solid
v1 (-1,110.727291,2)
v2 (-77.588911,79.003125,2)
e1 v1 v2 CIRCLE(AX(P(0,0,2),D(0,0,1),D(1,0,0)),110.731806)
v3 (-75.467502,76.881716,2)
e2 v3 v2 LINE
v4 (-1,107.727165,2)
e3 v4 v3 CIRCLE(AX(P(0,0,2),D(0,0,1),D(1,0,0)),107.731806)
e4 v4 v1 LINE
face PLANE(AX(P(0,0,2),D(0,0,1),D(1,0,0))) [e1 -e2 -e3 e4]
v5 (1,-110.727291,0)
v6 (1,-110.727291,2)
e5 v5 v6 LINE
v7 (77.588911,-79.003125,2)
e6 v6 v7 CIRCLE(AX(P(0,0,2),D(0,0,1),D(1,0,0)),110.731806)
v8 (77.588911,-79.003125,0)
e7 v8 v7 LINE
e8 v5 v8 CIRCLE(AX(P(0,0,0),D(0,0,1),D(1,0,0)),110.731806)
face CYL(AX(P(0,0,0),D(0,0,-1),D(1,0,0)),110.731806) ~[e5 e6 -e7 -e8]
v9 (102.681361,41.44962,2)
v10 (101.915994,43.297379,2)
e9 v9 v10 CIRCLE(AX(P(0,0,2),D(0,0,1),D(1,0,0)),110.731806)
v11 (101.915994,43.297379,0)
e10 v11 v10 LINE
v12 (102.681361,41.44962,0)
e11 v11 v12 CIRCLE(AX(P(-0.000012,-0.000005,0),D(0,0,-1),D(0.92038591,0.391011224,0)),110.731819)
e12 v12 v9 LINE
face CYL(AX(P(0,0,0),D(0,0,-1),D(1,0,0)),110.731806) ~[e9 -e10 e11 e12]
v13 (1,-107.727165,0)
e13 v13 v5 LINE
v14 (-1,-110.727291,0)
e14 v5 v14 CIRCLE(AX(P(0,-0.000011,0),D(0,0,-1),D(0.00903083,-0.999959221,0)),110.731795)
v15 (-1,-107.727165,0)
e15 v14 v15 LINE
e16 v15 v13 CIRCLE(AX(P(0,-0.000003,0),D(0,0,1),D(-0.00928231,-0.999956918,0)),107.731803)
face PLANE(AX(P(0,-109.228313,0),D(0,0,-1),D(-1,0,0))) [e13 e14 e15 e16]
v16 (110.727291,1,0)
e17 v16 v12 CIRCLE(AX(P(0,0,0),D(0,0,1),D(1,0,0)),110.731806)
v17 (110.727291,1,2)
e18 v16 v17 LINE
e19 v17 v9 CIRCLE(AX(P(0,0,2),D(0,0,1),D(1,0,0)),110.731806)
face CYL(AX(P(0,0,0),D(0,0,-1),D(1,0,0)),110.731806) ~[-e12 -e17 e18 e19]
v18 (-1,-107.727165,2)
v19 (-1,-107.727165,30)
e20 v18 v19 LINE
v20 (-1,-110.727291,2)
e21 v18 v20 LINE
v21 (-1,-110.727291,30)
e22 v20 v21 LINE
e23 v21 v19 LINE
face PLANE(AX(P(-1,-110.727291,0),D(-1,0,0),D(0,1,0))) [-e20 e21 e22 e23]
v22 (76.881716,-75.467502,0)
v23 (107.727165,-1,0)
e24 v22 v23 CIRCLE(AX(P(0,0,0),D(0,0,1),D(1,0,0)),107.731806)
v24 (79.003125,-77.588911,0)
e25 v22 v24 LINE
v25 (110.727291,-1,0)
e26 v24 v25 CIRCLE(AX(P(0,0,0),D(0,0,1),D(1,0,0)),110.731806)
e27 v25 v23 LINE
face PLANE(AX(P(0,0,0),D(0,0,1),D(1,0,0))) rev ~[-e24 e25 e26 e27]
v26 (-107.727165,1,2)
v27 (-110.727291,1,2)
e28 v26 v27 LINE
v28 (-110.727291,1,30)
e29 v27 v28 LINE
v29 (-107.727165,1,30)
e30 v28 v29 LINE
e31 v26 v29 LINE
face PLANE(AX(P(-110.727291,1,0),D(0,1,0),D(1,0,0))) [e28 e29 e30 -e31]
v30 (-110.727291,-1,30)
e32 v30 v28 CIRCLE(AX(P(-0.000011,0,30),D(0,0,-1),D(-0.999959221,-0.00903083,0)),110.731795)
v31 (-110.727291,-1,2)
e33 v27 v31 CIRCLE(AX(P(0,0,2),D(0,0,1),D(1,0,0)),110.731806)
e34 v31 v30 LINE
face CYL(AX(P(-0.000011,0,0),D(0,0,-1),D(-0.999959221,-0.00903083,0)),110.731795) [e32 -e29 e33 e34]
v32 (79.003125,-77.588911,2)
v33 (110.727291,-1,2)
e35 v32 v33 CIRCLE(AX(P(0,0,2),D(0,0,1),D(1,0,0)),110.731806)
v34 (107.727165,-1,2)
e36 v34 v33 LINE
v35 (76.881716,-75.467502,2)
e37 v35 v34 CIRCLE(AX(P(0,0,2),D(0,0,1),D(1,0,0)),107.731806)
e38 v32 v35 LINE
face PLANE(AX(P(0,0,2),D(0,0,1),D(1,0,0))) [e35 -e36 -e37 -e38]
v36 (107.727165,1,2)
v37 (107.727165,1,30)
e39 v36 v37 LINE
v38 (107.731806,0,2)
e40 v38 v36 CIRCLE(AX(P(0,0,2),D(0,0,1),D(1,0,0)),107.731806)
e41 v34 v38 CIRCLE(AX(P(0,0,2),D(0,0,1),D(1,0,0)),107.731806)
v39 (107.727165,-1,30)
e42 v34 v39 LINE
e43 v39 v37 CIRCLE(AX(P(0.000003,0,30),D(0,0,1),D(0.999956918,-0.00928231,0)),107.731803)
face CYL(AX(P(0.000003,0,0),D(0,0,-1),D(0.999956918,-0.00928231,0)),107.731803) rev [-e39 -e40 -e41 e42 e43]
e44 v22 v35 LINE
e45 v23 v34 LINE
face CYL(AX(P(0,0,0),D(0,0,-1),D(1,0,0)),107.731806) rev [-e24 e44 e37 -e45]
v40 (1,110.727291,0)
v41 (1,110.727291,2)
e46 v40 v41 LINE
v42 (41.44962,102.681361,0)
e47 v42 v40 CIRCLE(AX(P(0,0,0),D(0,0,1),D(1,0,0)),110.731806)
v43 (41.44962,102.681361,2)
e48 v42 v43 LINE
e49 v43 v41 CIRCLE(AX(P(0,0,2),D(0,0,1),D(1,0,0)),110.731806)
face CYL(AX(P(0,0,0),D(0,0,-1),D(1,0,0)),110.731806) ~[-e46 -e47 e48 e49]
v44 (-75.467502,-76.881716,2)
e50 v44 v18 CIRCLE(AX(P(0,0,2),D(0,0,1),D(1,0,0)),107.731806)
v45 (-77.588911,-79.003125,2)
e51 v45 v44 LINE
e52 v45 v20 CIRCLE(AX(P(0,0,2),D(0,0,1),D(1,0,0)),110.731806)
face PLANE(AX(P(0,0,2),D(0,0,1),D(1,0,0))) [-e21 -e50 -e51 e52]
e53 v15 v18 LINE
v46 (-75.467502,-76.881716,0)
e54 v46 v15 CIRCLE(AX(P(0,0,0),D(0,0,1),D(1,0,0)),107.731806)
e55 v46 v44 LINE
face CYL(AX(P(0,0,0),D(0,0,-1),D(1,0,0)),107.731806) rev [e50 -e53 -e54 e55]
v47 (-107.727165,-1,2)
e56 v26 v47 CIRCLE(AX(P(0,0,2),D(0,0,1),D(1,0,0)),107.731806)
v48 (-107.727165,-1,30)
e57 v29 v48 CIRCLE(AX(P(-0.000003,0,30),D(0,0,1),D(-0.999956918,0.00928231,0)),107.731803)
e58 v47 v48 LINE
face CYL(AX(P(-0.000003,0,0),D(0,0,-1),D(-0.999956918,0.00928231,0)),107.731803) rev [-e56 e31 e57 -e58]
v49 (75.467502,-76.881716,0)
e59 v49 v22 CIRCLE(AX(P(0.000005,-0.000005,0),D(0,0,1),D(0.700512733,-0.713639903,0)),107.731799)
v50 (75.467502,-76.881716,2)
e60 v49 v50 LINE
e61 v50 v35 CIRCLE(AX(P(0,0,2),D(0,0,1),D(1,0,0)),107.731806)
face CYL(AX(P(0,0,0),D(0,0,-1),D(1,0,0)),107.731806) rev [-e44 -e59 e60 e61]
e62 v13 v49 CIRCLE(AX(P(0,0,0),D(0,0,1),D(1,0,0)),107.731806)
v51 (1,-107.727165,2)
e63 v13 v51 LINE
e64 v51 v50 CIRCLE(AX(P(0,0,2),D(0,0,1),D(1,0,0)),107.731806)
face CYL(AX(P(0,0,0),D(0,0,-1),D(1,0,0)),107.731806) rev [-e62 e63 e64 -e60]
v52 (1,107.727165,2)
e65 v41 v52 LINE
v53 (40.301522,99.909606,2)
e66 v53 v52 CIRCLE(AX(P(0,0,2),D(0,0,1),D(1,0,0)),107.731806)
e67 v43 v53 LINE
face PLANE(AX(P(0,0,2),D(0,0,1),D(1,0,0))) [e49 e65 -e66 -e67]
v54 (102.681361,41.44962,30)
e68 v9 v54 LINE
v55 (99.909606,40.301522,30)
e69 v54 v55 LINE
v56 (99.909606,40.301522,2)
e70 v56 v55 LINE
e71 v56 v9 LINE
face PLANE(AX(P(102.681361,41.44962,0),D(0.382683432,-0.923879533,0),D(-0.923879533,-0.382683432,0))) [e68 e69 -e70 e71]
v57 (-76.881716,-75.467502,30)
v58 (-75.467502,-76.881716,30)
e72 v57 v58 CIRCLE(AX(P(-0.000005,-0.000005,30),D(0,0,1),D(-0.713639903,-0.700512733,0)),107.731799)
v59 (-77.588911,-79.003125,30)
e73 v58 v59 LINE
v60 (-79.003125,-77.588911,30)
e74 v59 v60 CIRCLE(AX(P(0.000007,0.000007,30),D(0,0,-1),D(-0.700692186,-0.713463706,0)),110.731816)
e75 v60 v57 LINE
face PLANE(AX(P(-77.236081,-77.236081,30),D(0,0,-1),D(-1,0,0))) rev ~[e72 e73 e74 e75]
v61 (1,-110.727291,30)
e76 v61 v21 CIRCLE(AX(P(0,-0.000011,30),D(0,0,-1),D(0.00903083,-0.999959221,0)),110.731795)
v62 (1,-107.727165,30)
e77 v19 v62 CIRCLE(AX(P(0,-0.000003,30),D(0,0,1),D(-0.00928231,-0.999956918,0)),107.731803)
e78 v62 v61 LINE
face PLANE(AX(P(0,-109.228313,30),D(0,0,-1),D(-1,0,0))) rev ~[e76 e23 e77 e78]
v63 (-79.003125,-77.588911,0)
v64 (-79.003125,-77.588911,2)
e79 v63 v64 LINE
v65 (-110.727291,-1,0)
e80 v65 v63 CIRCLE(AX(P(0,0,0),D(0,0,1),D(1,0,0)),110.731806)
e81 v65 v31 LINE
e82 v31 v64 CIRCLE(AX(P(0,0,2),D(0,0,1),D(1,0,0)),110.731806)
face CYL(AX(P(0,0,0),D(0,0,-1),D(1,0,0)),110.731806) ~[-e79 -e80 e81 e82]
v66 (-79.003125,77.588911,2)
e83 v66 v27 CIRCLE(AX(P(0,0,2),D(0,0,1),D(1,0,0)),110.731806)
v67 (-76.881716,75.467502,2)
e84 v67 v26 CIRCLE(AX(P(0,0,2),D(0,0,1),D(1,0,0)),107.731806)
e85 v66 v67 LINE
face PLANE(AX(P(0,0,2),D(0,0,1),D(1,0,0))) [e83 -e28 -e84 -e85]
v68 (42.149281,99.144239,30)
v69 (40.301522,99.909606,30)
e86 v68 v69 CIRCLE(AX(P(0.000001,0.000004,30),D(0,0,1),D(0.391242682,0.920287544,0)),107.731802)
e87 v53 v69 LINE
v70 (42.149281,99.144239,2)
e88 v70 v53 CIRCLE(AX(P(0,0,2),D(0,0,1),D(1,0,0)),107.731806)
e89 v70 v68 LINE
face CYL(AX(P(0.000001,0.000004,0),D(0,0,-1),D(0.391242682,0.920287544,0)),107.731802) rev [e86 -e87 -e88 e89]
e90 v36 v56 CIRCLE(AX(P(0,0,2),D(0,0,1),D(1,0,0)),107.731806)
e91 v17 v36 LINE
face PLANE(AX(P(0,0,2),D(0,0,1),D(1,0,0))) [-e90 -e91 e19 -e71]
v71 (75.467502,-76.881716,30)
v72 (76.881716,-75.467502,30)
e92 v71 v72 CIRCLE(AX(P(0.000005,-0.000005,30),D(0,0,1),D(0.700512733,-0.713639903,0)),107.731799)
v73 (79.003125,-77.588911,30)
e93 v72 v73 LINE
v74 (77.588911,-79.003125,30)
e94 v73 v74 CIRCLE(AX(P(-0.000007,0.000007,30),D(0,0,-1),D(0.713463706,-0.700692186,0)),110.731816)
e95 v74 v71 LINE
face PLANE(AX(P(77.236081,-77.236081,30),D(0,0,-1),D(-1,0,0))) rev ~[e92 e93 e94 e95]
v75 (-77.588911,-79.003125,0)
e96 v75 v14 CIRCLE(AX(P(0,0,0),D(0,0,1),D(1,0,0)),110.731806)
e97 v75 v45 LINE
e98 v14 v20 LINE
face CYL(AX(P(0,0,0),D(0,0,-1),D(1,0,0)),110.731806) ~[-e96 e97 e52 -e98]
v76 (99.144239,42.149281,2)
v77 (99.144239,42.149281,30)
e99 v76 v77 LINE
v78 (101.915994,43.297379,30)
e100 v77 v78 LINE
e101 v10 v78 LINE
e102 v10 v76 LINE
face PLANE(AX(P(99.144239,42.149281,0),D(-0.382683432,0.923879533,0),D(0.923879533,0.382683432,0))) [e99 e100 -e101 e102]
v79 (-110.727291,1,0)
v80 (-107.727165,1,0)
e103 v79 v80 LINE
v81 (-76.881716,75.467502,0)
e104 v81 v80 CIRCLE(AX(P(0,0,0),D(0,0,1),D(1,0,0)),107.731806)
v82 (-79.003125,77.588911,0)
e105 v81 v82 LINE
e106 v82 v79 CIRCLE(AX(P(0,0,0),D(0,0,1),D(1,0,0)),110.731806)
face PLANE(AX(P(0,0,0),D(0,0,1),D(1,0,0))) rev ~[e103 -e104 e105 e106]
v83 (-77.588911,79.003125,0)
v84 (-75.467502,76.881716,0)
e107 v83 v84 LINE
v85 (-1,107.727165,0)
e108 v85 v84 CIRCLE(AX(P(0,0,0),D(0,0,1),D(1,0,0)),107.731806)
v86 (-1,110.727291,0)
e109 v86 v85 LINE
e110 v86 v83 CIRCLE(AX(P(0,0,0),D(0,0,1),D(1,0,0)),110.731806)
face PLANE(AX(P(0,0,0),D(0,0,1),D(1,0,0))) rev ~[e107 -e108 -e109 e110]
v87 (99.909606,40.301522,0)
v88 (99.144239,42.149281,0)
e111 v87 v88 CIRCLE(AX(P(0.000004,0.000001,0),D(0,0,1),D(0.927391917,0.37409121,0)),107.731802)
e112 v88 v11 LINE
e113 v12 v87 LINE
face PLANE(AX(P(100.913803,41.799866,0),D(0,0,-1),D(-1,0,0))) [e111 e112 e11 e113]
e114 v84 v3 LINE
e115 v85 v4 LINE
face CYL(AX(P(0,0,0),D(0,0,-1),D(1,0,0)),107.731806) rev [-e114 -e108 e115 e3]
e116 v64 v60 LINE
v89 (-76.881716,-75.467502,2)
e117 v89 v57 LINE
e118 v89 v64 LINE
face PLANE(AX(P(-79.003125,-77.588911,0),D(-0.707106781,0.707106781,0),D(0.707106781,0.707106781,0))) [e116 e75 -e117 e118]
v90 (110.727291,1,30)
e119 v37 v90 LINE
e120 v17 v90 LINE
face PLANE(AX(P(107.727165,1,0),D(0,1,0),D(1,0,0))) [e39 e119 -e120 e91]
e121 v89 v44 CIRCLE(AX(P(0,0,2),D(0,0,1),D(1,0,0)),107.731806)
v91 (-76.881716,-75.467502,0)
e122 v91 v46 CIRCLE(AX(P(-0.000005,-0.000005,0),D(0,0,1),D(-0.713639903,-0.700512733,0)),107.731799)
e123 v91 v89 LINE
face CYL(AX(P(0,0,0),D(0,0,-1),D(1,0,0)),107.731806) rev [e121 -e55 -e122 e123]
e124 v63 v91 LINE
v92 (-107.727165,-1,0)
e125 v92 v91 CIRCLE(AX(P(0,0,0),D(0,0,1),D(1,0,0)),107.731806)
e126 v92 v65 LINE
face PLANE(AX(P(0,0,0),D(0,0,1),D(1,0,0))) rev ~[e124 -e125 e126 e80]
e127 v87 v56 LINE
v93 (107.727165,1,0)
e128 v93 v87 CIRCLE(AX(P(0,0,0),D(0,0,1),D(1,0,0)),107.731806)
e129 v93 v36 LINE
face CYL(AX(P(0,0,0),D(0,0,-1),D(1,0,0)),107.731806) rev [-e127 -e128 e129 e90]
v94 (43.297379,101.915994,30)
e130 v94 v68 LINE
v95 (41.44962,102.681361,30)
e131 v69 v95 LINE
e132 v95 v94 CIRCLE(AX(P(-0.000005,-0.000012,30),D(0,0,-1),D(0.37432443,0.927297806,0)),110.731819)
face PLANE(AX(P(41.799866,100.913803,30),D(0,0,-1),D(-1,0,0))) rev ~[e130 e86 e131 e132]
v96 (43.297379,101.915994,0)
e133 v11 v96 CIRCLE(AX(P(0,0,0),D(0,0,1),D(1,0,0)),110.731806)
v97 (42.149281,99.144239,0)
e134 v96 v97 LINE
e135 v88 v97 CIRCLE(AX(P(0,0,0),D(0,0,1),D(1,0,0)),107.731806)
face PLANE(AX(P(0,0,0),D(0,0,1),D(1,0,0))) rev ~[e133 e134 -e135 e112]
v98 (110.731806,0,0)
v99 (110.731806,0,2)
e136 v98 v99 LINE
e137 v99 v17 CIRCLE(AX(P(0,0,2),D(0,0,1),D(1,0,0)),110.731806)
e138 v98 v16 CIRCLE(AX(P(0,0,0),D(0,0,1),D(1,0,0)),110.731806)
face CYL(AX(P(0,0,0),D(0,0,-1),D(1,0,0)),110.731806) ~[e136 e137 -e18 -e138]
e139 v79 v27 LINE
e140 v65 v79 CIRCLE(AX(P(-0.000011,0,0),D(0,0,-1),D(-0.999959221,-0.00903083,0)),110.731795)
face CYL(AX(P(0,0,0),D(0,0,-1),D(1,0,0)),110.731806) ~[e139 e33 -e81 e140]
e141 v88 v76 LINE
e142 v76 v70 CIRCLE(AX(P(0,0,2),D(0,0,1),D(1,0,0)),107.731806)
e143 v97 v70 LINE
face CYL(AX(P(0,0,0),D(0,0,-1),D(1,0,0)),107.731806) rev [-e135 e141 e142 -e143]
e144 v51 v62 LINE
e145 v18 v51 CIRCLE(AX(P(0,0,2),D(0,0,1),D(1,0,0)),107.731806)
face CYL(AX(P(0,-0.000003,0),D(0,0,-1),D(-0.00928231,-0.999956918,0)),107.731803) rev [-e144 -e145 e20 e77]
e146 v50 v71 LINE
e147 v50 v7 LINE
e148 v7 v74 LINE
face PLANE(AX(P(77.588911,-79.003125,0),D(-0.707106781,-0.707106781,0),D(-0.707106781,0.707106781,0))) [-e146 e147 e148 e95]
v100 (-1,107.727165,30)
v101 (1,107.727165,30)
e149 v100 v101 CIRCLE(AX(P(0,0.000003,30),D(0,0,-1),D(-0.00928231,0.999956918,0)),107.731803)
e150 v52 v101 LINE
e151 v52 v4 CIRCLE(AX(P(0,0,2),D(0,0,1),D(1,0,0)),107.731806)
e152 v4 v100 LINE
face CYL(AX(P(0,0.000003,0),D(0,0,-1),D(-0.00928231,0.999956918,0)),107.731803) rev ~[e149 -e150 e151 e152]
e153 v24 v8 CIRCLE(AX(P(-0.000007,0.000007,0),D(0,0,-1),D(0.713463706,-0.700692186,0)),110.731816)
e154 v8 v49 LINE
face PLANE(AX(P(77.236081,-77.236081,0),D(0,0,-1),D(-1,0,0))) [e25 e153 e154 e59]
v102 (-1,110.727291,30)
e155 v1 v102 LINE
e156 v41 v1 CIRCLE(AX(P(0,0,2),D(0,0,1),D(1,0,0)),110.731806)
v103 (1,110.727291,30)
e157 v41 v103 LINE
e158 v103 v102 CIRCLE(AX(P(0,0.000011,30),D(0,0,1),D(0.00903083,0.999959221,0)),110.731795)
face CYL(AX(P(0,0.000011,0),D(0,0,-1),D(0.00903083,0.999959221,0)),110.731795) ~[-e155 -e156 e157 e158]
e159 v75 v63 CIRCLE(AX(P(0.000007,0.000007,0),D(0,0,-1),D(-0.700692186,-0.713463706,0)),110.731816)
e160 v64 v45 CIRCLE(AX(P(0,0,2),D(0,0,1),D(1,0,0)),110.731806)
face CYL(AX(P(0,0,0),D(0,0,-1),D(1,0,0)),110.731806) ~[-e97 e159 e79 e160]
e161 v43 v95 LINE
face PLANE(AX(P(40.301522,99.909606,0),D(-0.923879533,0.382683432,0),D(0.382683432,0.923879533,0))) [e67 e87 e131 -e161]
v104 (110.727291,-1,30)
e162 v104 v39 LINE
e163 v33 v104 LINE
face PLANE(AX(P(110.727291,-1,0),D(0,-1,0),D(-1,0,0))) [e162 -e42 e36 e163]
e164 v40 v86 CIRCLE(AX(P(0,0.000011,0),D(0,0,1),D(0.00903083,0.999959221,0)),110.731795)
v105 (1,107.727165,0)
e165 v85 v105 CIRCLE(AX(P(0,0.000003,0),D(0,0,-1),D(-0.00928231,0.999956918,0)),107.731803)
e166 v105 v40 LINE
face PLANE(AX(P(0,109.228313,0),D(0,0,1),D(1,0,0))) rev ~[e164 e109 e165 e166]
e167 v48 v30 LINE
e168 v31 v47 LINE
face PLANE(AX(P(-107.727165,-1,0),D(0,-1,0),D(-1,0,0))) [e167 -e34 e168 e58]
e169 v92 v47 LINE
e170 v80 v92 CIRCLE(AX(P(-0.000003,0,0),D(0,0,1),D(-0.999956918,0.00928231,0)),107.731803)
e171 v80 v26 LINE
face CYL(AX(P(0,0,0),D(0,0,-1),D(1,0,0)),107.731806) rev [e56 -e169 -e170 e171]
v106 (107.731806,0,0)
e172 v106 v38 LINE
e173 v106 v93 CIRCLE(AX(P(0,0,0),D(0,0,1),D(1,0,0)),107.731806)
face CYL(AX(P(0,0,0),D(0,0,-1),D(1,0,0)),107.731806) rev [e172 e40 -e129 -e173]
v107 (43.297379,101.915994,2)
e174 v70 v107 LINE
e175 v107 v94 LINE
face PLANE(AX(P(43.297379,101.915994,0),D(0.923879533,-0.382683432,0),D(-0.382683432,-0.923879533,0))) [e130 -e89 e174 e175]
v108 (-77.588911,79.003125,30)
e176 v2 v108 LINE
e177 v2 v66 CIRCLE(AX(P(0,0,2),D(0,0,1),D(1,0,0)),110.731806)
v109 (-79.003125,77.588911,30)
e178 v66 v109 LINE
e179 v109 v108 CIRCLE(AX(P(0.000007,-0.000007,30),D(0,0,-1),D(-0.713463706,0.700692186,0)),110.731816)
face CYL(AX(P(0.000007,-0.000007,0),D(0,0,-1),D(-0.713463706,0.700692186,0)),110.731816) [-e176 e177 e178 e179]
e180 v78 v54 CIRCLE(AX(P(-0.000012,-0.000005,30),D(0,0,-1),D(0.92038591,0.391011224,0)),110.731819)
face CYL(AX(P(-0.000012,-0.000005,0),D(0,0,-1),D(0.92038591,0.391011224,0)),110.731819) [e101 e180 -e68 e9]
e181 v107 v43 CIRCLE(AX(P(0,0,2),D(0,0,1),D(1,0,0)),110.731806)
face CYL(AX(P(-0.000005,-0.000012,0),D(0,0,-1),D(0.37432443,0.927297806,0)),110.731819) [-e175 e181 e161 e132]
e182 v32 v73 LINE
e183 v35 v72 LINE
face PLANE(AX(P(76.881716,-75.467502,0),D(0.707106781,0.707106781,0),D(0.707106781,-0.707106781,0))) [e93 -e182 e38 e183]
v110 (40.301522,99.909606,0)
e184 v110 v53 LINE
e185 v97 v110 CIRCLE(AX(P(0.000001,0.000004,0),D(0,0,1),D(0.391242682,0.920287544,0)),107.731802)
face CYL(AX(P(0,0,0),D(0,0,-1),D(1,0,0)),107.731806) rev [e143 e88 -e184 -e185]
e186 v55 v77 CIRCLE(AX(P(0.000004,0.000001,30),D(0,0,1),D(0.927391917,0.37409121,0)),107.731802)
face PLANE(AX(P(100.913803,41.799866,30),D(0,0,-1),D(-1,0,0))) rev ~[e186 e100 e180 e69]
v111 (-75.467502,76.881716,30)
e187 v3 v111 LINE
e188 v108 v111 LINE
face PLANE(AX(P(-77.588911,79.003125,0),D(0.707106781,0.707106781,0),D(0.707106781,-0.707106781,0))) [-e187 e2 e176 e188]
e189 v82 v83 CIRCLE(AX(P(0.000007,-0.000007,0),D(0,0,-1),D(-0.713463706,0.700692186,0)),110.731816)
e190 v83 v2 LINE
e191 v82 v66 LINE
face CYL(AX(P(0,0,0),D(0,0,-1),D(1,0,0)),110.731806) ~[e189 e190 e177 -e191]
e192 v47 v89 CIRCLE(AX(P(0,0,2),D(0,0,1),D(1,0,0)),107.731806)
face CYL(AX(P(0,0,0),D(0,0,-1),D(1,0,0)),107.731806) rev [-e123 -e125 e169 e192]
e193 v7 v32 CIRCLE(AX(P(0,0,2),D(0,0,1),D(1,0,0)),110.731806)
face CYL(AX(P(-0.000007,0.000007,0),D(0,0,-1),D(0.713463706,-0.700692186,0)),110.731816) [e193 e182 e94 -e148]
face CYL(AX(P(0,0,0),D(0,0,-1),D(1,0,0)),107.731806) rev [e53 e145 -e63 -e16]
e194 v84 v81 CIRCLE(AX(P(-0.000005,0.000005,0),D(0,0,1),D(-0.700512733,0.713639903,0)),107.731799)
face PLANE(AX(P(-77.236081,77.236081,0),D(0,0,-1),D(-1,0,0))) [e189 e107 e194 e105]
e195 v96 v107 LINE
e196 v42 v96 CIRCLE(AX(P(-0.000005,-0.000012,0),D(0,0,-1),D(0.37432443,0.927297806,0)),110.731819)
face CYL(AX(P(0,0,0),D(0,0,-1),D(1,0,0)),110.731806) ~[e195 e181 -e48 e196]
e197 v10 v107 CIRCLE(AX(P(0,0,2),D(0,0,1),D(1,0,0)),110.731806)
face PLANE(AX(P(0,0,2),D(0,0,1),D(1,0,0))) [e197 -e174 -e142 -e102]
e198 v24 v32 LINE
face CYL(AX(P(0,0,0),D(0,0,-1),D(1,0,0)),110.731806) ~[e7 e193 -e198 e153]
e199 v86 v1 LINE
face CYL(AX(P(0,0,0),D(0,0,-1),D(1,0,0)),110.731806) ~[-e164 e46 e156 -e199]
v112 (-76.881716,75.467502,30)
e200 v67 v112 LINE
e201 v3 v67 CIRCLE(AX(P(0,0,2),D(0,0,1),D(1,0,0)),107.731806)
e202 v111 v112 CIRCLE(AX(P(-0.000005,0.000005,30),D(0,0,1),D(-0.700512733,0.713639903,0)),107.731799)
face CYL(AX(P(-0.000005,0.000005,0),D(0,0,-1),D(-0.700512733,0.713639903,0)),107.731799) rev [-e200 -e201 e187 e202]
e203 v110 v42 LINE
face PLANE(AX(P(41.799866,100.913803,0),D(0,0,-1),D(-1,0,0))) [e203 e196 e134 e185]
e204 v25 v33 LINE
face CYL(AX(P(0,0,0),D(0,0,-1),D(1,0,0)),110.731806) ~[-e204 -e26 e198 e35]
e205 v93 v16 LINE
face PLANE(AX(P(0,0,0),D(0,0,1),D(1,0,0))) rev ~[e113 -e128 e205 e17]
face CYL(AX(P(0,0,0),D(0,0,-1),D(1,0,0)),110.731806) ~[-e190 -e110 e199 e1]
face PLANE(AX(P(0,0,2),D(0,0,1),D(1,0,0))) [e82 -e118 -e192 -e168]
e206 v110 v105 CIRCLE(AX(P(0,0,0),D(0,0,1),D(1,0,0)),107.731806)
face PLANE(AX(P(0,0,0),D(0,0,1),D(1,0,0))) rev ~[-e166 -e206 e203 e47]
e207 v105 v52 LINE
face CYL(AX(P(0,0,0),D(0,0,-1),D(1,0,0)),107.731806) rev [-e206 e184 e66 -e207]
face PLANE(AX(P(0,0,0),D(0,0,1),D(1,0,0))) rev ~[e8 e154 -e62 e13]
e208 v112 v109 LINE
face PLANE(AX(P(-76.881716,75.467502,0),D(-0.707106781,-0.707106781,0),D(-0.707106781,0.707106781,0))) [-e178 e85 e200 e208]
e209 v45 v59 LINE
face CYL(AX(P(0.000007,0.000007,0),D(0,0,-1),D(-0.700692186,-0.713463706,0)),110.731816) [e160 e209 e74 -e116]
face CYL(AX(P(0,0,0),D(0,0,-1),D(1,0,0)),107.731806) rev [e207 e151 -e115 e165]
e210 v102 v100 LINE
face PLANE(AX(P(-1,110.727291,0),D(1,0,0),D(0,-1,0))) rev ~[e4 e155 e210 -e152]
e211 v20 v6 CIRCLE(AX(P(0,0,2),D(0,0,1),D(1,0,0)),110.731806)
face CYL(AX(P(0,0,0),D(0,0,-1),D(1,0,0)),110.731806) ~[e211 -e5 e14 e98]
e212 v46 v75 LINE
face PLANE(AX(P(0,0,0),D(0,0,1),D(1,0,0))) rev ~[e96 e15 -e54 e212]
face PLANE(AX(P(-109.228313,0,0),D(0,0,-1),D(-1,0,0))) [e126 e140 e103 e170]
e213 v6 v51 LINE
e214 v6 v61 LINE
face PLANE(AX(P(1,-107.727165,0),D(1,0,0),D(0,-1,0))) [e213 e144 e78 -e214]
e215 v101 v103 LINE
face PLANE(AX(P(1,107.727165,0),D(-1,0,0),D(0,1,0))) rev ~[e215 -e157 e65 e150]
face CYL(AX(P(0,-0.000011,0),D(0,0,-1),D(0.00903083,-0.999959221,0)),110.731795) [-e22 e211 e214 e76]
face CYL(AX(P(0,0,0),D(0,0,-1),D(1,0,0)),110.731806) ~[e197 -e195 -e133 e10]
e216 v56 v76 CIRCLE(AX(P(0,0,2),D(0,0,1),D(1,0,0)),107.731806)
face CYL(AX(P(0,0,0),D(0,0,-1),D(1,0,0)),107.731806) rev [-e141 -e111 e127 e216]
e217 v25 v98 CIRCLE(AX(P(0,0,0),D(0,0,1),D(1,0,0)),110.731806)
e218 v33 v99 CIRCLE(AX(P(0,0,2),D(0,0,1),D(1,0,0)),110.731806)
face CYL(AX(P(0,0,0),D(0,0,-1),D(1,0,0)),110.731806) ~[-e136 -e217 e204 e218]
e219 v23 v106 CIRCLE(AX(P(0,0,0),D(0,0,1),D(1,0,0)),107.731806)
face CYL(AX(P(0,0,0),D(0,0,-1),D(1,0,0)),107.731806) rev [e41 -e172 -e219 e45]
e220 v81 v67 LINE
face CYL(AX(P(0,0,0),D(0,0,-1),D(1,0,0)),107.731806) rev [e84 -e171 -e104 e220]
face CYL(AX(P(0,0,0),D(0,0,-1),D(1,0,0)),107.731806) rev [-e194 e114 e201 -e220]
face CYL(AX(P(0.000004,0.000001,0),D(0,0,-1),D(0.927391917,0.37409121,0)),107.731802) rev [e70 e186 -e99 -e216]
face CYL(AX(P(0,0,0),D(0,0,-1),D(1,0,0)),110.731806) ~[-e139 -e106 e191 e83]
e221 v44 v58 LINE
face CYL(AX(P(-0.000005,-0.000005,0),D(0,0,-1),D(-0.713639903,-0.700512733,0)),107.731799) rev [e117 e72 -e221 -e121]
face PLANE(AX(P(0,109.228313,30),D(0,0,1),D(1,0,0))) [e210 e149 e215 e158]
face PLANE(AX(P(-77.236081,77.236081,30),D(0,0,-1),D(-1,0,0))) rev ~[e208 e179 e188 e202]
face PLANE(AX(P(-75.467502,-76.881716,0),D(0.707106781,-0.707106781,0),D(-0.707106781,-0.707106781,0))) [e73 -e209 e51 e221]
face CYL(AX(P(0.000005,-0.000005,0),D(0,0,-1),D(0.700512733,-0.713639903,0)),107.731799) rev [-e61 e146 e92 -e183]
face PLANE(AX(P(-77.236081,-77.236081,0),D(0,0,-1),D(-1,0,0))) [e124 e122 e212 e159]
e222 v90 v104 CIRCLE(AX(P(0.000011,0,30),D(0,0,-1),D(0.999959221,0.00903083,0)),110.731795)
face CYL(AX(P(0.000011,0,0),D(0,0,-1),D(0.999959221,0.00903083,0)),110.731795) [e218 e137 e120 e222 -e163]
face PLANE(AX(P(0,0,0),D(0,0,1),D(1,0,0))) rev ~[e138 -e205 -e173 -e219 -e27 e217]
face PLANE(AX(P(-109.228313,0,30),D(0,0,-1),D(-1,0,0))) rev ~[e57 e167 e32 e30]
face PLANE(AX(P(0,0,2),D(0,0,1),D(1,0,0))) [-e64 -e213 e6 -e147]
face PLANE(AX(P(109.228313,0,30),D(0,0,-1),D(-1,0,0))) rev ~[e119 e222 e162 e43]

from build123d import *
from build123d.topology import SkipClean

# Parameters (mm, degrees)
SKETCH1_R           = 110.731806219
SKETCH1_R_2         = 107.731806219
BOSS_EXTRUDE1_DEPTH = 2
BOSS_EXTRUDE3_DEPTH = 30


with BuildPart() as part:
    # Sketch1 → Boss-Extrude1 (new body)
    with BuildSketch(Plane.XY):
        Circle(SKETCH1_R)
        Circle(SKETCH1_R_2, mode=Mode.SUBTRACT)
    extrude(amount=BOSS_EXTRUDE1_DEPTH)

    # Sketch3 → Boss-Extrude3 (add)
    with SkipClean():  # the faces are left unmerged after this step: merging them gives an invalid solid
        with BuildSketch(Plane.XY):
            with BuildLine():
                Line((1, 107.727164964), (1, 110.727290712))
                ThreePointArc((1, 110.727290712), (0, 110.731806219), (-1, 110.727290712))
                Line((-1, 110.727290712), (-1, 107.727164964))
                ThreePointArc((-1, 107.727164964), (0, 107.731806219), (1, 107.727164964))
            make_face()
            with BuildLine():
                Line((107.727164964, 1), (110.727290712, 1))
                ThreePointArc((110.727290712, 1), (110.731806219, 0), (110.727290712, -1))
                Line((110.727290712, -1), (107.727164964, -1))
                ThreePointArc((107.727164964, -1), (107.731806219, 0), (107.727164964, 1))
            make_face()
            with BuildLine():
                Line((76.881715645, -75.467502083), (79.003124906, -77.588911344))
                ThreePointArc((79.003124906, -77.588911344), (78.29921107, -78.29921107), (77.588911344, -79.003124906))
                Line((77.588911344, -79.003124906), (75.467502083, -76.881715645))
                ThreePointArc((75.467502083, -76.881715645), (76.177890727, -76.177890727), (76.881715645, -75.467502083))
            make_face()
            with BuildLine():
                Line((1, -107.727164964), (1, -110.727290712))
                ThreePointArc((1, -110.727290712), (0, -110.731806219), (-1, -110.727290712))
                Line((-1, -110.727290712), (-1, -107.727164964))
                ThreePointArc((-1, -107.727164964), (0, -107.731806219), (1, -107.727164964))
            make_face()
            with BuildLine():
                Line((-75.467502083, -76.881715645), (-77.588911344, -79.003124906))
                ThreePointArc((-77.588911344, -79.003124906), (-78.29921107, -78.29921107), (-79.003124906, -77.588911344))
                Line((-79.003124906, -77.588911344), (-76.881715645, -75.467502083))
                ThreePointArc((-76.881715645, -75.467502083), (-76.177890727, -76.177890727), (-75.467502083, -76.881715645))
            make_face()
            with BuildLine():
                Line((-107.727164964, -1), (-110.727290712, -1))
                ThreePointArc((-110.727290712, -1), (-110.731806219, 0), (-110.727290712, 1))
                Line((-110.727290712, 1), (-107.727164964, 1))
                ThreePointArc((-107.727164964, 1), (-107.731806219, 0), (-107.727164964, -1))
            make_face()
            with BuildLine():
                Line((-76.881715645, 75.467502083), (-79.003124906, 77.588911344))
                ThreePointArc((-79.003124906, 77.588911344), (-78.29921107, 78.29921107), (-77.588911344, 79.003124906))
                Line((-77.588911344, 79.003124906), (-75.467502083, 76.881715645))
                ThreePointArc((-75.467502083, 76.881715645), (-76.177890727, 76.177890727), (-76.881715645, 75.467502083))
            make_face()
            with BuildLine():
                Line((99.144239373, 42.14928078), (101.915994147, 43.297379199))
                ThreePointArc((101.915994147, 43.297379199), (102.302849363, 42.375227676), (102.681361012, 41.449620134))
                Line((102.681361012, 41.449620134), (99.909606238, 40.301521715))
                ThreePointArc((99.909606238, 40.301521715), (99.531210766, 41.227177379), (99.144239373, 42.14928078))
            make_face()
            with BuildLine():
                Line((40.301521715, 99.909606238), (41.449620134, 102.681361012))
                ThreePointArc((41.449620134, 102.681361012), (42.375227676, 102.302849363), (43.297379199, 101.915994147))
                Line((43.297379199, 101.915994147), (42.14928078, 99.144239373))
                ThreePointArc((42.14928078, 99.144239373), (41.227177379, 99.531210766), (40.301521715, 99.909606238))
            make_face()
        extrude(amount=BOSS_EXTRUDE3_DEPTH)


solid = part.part
